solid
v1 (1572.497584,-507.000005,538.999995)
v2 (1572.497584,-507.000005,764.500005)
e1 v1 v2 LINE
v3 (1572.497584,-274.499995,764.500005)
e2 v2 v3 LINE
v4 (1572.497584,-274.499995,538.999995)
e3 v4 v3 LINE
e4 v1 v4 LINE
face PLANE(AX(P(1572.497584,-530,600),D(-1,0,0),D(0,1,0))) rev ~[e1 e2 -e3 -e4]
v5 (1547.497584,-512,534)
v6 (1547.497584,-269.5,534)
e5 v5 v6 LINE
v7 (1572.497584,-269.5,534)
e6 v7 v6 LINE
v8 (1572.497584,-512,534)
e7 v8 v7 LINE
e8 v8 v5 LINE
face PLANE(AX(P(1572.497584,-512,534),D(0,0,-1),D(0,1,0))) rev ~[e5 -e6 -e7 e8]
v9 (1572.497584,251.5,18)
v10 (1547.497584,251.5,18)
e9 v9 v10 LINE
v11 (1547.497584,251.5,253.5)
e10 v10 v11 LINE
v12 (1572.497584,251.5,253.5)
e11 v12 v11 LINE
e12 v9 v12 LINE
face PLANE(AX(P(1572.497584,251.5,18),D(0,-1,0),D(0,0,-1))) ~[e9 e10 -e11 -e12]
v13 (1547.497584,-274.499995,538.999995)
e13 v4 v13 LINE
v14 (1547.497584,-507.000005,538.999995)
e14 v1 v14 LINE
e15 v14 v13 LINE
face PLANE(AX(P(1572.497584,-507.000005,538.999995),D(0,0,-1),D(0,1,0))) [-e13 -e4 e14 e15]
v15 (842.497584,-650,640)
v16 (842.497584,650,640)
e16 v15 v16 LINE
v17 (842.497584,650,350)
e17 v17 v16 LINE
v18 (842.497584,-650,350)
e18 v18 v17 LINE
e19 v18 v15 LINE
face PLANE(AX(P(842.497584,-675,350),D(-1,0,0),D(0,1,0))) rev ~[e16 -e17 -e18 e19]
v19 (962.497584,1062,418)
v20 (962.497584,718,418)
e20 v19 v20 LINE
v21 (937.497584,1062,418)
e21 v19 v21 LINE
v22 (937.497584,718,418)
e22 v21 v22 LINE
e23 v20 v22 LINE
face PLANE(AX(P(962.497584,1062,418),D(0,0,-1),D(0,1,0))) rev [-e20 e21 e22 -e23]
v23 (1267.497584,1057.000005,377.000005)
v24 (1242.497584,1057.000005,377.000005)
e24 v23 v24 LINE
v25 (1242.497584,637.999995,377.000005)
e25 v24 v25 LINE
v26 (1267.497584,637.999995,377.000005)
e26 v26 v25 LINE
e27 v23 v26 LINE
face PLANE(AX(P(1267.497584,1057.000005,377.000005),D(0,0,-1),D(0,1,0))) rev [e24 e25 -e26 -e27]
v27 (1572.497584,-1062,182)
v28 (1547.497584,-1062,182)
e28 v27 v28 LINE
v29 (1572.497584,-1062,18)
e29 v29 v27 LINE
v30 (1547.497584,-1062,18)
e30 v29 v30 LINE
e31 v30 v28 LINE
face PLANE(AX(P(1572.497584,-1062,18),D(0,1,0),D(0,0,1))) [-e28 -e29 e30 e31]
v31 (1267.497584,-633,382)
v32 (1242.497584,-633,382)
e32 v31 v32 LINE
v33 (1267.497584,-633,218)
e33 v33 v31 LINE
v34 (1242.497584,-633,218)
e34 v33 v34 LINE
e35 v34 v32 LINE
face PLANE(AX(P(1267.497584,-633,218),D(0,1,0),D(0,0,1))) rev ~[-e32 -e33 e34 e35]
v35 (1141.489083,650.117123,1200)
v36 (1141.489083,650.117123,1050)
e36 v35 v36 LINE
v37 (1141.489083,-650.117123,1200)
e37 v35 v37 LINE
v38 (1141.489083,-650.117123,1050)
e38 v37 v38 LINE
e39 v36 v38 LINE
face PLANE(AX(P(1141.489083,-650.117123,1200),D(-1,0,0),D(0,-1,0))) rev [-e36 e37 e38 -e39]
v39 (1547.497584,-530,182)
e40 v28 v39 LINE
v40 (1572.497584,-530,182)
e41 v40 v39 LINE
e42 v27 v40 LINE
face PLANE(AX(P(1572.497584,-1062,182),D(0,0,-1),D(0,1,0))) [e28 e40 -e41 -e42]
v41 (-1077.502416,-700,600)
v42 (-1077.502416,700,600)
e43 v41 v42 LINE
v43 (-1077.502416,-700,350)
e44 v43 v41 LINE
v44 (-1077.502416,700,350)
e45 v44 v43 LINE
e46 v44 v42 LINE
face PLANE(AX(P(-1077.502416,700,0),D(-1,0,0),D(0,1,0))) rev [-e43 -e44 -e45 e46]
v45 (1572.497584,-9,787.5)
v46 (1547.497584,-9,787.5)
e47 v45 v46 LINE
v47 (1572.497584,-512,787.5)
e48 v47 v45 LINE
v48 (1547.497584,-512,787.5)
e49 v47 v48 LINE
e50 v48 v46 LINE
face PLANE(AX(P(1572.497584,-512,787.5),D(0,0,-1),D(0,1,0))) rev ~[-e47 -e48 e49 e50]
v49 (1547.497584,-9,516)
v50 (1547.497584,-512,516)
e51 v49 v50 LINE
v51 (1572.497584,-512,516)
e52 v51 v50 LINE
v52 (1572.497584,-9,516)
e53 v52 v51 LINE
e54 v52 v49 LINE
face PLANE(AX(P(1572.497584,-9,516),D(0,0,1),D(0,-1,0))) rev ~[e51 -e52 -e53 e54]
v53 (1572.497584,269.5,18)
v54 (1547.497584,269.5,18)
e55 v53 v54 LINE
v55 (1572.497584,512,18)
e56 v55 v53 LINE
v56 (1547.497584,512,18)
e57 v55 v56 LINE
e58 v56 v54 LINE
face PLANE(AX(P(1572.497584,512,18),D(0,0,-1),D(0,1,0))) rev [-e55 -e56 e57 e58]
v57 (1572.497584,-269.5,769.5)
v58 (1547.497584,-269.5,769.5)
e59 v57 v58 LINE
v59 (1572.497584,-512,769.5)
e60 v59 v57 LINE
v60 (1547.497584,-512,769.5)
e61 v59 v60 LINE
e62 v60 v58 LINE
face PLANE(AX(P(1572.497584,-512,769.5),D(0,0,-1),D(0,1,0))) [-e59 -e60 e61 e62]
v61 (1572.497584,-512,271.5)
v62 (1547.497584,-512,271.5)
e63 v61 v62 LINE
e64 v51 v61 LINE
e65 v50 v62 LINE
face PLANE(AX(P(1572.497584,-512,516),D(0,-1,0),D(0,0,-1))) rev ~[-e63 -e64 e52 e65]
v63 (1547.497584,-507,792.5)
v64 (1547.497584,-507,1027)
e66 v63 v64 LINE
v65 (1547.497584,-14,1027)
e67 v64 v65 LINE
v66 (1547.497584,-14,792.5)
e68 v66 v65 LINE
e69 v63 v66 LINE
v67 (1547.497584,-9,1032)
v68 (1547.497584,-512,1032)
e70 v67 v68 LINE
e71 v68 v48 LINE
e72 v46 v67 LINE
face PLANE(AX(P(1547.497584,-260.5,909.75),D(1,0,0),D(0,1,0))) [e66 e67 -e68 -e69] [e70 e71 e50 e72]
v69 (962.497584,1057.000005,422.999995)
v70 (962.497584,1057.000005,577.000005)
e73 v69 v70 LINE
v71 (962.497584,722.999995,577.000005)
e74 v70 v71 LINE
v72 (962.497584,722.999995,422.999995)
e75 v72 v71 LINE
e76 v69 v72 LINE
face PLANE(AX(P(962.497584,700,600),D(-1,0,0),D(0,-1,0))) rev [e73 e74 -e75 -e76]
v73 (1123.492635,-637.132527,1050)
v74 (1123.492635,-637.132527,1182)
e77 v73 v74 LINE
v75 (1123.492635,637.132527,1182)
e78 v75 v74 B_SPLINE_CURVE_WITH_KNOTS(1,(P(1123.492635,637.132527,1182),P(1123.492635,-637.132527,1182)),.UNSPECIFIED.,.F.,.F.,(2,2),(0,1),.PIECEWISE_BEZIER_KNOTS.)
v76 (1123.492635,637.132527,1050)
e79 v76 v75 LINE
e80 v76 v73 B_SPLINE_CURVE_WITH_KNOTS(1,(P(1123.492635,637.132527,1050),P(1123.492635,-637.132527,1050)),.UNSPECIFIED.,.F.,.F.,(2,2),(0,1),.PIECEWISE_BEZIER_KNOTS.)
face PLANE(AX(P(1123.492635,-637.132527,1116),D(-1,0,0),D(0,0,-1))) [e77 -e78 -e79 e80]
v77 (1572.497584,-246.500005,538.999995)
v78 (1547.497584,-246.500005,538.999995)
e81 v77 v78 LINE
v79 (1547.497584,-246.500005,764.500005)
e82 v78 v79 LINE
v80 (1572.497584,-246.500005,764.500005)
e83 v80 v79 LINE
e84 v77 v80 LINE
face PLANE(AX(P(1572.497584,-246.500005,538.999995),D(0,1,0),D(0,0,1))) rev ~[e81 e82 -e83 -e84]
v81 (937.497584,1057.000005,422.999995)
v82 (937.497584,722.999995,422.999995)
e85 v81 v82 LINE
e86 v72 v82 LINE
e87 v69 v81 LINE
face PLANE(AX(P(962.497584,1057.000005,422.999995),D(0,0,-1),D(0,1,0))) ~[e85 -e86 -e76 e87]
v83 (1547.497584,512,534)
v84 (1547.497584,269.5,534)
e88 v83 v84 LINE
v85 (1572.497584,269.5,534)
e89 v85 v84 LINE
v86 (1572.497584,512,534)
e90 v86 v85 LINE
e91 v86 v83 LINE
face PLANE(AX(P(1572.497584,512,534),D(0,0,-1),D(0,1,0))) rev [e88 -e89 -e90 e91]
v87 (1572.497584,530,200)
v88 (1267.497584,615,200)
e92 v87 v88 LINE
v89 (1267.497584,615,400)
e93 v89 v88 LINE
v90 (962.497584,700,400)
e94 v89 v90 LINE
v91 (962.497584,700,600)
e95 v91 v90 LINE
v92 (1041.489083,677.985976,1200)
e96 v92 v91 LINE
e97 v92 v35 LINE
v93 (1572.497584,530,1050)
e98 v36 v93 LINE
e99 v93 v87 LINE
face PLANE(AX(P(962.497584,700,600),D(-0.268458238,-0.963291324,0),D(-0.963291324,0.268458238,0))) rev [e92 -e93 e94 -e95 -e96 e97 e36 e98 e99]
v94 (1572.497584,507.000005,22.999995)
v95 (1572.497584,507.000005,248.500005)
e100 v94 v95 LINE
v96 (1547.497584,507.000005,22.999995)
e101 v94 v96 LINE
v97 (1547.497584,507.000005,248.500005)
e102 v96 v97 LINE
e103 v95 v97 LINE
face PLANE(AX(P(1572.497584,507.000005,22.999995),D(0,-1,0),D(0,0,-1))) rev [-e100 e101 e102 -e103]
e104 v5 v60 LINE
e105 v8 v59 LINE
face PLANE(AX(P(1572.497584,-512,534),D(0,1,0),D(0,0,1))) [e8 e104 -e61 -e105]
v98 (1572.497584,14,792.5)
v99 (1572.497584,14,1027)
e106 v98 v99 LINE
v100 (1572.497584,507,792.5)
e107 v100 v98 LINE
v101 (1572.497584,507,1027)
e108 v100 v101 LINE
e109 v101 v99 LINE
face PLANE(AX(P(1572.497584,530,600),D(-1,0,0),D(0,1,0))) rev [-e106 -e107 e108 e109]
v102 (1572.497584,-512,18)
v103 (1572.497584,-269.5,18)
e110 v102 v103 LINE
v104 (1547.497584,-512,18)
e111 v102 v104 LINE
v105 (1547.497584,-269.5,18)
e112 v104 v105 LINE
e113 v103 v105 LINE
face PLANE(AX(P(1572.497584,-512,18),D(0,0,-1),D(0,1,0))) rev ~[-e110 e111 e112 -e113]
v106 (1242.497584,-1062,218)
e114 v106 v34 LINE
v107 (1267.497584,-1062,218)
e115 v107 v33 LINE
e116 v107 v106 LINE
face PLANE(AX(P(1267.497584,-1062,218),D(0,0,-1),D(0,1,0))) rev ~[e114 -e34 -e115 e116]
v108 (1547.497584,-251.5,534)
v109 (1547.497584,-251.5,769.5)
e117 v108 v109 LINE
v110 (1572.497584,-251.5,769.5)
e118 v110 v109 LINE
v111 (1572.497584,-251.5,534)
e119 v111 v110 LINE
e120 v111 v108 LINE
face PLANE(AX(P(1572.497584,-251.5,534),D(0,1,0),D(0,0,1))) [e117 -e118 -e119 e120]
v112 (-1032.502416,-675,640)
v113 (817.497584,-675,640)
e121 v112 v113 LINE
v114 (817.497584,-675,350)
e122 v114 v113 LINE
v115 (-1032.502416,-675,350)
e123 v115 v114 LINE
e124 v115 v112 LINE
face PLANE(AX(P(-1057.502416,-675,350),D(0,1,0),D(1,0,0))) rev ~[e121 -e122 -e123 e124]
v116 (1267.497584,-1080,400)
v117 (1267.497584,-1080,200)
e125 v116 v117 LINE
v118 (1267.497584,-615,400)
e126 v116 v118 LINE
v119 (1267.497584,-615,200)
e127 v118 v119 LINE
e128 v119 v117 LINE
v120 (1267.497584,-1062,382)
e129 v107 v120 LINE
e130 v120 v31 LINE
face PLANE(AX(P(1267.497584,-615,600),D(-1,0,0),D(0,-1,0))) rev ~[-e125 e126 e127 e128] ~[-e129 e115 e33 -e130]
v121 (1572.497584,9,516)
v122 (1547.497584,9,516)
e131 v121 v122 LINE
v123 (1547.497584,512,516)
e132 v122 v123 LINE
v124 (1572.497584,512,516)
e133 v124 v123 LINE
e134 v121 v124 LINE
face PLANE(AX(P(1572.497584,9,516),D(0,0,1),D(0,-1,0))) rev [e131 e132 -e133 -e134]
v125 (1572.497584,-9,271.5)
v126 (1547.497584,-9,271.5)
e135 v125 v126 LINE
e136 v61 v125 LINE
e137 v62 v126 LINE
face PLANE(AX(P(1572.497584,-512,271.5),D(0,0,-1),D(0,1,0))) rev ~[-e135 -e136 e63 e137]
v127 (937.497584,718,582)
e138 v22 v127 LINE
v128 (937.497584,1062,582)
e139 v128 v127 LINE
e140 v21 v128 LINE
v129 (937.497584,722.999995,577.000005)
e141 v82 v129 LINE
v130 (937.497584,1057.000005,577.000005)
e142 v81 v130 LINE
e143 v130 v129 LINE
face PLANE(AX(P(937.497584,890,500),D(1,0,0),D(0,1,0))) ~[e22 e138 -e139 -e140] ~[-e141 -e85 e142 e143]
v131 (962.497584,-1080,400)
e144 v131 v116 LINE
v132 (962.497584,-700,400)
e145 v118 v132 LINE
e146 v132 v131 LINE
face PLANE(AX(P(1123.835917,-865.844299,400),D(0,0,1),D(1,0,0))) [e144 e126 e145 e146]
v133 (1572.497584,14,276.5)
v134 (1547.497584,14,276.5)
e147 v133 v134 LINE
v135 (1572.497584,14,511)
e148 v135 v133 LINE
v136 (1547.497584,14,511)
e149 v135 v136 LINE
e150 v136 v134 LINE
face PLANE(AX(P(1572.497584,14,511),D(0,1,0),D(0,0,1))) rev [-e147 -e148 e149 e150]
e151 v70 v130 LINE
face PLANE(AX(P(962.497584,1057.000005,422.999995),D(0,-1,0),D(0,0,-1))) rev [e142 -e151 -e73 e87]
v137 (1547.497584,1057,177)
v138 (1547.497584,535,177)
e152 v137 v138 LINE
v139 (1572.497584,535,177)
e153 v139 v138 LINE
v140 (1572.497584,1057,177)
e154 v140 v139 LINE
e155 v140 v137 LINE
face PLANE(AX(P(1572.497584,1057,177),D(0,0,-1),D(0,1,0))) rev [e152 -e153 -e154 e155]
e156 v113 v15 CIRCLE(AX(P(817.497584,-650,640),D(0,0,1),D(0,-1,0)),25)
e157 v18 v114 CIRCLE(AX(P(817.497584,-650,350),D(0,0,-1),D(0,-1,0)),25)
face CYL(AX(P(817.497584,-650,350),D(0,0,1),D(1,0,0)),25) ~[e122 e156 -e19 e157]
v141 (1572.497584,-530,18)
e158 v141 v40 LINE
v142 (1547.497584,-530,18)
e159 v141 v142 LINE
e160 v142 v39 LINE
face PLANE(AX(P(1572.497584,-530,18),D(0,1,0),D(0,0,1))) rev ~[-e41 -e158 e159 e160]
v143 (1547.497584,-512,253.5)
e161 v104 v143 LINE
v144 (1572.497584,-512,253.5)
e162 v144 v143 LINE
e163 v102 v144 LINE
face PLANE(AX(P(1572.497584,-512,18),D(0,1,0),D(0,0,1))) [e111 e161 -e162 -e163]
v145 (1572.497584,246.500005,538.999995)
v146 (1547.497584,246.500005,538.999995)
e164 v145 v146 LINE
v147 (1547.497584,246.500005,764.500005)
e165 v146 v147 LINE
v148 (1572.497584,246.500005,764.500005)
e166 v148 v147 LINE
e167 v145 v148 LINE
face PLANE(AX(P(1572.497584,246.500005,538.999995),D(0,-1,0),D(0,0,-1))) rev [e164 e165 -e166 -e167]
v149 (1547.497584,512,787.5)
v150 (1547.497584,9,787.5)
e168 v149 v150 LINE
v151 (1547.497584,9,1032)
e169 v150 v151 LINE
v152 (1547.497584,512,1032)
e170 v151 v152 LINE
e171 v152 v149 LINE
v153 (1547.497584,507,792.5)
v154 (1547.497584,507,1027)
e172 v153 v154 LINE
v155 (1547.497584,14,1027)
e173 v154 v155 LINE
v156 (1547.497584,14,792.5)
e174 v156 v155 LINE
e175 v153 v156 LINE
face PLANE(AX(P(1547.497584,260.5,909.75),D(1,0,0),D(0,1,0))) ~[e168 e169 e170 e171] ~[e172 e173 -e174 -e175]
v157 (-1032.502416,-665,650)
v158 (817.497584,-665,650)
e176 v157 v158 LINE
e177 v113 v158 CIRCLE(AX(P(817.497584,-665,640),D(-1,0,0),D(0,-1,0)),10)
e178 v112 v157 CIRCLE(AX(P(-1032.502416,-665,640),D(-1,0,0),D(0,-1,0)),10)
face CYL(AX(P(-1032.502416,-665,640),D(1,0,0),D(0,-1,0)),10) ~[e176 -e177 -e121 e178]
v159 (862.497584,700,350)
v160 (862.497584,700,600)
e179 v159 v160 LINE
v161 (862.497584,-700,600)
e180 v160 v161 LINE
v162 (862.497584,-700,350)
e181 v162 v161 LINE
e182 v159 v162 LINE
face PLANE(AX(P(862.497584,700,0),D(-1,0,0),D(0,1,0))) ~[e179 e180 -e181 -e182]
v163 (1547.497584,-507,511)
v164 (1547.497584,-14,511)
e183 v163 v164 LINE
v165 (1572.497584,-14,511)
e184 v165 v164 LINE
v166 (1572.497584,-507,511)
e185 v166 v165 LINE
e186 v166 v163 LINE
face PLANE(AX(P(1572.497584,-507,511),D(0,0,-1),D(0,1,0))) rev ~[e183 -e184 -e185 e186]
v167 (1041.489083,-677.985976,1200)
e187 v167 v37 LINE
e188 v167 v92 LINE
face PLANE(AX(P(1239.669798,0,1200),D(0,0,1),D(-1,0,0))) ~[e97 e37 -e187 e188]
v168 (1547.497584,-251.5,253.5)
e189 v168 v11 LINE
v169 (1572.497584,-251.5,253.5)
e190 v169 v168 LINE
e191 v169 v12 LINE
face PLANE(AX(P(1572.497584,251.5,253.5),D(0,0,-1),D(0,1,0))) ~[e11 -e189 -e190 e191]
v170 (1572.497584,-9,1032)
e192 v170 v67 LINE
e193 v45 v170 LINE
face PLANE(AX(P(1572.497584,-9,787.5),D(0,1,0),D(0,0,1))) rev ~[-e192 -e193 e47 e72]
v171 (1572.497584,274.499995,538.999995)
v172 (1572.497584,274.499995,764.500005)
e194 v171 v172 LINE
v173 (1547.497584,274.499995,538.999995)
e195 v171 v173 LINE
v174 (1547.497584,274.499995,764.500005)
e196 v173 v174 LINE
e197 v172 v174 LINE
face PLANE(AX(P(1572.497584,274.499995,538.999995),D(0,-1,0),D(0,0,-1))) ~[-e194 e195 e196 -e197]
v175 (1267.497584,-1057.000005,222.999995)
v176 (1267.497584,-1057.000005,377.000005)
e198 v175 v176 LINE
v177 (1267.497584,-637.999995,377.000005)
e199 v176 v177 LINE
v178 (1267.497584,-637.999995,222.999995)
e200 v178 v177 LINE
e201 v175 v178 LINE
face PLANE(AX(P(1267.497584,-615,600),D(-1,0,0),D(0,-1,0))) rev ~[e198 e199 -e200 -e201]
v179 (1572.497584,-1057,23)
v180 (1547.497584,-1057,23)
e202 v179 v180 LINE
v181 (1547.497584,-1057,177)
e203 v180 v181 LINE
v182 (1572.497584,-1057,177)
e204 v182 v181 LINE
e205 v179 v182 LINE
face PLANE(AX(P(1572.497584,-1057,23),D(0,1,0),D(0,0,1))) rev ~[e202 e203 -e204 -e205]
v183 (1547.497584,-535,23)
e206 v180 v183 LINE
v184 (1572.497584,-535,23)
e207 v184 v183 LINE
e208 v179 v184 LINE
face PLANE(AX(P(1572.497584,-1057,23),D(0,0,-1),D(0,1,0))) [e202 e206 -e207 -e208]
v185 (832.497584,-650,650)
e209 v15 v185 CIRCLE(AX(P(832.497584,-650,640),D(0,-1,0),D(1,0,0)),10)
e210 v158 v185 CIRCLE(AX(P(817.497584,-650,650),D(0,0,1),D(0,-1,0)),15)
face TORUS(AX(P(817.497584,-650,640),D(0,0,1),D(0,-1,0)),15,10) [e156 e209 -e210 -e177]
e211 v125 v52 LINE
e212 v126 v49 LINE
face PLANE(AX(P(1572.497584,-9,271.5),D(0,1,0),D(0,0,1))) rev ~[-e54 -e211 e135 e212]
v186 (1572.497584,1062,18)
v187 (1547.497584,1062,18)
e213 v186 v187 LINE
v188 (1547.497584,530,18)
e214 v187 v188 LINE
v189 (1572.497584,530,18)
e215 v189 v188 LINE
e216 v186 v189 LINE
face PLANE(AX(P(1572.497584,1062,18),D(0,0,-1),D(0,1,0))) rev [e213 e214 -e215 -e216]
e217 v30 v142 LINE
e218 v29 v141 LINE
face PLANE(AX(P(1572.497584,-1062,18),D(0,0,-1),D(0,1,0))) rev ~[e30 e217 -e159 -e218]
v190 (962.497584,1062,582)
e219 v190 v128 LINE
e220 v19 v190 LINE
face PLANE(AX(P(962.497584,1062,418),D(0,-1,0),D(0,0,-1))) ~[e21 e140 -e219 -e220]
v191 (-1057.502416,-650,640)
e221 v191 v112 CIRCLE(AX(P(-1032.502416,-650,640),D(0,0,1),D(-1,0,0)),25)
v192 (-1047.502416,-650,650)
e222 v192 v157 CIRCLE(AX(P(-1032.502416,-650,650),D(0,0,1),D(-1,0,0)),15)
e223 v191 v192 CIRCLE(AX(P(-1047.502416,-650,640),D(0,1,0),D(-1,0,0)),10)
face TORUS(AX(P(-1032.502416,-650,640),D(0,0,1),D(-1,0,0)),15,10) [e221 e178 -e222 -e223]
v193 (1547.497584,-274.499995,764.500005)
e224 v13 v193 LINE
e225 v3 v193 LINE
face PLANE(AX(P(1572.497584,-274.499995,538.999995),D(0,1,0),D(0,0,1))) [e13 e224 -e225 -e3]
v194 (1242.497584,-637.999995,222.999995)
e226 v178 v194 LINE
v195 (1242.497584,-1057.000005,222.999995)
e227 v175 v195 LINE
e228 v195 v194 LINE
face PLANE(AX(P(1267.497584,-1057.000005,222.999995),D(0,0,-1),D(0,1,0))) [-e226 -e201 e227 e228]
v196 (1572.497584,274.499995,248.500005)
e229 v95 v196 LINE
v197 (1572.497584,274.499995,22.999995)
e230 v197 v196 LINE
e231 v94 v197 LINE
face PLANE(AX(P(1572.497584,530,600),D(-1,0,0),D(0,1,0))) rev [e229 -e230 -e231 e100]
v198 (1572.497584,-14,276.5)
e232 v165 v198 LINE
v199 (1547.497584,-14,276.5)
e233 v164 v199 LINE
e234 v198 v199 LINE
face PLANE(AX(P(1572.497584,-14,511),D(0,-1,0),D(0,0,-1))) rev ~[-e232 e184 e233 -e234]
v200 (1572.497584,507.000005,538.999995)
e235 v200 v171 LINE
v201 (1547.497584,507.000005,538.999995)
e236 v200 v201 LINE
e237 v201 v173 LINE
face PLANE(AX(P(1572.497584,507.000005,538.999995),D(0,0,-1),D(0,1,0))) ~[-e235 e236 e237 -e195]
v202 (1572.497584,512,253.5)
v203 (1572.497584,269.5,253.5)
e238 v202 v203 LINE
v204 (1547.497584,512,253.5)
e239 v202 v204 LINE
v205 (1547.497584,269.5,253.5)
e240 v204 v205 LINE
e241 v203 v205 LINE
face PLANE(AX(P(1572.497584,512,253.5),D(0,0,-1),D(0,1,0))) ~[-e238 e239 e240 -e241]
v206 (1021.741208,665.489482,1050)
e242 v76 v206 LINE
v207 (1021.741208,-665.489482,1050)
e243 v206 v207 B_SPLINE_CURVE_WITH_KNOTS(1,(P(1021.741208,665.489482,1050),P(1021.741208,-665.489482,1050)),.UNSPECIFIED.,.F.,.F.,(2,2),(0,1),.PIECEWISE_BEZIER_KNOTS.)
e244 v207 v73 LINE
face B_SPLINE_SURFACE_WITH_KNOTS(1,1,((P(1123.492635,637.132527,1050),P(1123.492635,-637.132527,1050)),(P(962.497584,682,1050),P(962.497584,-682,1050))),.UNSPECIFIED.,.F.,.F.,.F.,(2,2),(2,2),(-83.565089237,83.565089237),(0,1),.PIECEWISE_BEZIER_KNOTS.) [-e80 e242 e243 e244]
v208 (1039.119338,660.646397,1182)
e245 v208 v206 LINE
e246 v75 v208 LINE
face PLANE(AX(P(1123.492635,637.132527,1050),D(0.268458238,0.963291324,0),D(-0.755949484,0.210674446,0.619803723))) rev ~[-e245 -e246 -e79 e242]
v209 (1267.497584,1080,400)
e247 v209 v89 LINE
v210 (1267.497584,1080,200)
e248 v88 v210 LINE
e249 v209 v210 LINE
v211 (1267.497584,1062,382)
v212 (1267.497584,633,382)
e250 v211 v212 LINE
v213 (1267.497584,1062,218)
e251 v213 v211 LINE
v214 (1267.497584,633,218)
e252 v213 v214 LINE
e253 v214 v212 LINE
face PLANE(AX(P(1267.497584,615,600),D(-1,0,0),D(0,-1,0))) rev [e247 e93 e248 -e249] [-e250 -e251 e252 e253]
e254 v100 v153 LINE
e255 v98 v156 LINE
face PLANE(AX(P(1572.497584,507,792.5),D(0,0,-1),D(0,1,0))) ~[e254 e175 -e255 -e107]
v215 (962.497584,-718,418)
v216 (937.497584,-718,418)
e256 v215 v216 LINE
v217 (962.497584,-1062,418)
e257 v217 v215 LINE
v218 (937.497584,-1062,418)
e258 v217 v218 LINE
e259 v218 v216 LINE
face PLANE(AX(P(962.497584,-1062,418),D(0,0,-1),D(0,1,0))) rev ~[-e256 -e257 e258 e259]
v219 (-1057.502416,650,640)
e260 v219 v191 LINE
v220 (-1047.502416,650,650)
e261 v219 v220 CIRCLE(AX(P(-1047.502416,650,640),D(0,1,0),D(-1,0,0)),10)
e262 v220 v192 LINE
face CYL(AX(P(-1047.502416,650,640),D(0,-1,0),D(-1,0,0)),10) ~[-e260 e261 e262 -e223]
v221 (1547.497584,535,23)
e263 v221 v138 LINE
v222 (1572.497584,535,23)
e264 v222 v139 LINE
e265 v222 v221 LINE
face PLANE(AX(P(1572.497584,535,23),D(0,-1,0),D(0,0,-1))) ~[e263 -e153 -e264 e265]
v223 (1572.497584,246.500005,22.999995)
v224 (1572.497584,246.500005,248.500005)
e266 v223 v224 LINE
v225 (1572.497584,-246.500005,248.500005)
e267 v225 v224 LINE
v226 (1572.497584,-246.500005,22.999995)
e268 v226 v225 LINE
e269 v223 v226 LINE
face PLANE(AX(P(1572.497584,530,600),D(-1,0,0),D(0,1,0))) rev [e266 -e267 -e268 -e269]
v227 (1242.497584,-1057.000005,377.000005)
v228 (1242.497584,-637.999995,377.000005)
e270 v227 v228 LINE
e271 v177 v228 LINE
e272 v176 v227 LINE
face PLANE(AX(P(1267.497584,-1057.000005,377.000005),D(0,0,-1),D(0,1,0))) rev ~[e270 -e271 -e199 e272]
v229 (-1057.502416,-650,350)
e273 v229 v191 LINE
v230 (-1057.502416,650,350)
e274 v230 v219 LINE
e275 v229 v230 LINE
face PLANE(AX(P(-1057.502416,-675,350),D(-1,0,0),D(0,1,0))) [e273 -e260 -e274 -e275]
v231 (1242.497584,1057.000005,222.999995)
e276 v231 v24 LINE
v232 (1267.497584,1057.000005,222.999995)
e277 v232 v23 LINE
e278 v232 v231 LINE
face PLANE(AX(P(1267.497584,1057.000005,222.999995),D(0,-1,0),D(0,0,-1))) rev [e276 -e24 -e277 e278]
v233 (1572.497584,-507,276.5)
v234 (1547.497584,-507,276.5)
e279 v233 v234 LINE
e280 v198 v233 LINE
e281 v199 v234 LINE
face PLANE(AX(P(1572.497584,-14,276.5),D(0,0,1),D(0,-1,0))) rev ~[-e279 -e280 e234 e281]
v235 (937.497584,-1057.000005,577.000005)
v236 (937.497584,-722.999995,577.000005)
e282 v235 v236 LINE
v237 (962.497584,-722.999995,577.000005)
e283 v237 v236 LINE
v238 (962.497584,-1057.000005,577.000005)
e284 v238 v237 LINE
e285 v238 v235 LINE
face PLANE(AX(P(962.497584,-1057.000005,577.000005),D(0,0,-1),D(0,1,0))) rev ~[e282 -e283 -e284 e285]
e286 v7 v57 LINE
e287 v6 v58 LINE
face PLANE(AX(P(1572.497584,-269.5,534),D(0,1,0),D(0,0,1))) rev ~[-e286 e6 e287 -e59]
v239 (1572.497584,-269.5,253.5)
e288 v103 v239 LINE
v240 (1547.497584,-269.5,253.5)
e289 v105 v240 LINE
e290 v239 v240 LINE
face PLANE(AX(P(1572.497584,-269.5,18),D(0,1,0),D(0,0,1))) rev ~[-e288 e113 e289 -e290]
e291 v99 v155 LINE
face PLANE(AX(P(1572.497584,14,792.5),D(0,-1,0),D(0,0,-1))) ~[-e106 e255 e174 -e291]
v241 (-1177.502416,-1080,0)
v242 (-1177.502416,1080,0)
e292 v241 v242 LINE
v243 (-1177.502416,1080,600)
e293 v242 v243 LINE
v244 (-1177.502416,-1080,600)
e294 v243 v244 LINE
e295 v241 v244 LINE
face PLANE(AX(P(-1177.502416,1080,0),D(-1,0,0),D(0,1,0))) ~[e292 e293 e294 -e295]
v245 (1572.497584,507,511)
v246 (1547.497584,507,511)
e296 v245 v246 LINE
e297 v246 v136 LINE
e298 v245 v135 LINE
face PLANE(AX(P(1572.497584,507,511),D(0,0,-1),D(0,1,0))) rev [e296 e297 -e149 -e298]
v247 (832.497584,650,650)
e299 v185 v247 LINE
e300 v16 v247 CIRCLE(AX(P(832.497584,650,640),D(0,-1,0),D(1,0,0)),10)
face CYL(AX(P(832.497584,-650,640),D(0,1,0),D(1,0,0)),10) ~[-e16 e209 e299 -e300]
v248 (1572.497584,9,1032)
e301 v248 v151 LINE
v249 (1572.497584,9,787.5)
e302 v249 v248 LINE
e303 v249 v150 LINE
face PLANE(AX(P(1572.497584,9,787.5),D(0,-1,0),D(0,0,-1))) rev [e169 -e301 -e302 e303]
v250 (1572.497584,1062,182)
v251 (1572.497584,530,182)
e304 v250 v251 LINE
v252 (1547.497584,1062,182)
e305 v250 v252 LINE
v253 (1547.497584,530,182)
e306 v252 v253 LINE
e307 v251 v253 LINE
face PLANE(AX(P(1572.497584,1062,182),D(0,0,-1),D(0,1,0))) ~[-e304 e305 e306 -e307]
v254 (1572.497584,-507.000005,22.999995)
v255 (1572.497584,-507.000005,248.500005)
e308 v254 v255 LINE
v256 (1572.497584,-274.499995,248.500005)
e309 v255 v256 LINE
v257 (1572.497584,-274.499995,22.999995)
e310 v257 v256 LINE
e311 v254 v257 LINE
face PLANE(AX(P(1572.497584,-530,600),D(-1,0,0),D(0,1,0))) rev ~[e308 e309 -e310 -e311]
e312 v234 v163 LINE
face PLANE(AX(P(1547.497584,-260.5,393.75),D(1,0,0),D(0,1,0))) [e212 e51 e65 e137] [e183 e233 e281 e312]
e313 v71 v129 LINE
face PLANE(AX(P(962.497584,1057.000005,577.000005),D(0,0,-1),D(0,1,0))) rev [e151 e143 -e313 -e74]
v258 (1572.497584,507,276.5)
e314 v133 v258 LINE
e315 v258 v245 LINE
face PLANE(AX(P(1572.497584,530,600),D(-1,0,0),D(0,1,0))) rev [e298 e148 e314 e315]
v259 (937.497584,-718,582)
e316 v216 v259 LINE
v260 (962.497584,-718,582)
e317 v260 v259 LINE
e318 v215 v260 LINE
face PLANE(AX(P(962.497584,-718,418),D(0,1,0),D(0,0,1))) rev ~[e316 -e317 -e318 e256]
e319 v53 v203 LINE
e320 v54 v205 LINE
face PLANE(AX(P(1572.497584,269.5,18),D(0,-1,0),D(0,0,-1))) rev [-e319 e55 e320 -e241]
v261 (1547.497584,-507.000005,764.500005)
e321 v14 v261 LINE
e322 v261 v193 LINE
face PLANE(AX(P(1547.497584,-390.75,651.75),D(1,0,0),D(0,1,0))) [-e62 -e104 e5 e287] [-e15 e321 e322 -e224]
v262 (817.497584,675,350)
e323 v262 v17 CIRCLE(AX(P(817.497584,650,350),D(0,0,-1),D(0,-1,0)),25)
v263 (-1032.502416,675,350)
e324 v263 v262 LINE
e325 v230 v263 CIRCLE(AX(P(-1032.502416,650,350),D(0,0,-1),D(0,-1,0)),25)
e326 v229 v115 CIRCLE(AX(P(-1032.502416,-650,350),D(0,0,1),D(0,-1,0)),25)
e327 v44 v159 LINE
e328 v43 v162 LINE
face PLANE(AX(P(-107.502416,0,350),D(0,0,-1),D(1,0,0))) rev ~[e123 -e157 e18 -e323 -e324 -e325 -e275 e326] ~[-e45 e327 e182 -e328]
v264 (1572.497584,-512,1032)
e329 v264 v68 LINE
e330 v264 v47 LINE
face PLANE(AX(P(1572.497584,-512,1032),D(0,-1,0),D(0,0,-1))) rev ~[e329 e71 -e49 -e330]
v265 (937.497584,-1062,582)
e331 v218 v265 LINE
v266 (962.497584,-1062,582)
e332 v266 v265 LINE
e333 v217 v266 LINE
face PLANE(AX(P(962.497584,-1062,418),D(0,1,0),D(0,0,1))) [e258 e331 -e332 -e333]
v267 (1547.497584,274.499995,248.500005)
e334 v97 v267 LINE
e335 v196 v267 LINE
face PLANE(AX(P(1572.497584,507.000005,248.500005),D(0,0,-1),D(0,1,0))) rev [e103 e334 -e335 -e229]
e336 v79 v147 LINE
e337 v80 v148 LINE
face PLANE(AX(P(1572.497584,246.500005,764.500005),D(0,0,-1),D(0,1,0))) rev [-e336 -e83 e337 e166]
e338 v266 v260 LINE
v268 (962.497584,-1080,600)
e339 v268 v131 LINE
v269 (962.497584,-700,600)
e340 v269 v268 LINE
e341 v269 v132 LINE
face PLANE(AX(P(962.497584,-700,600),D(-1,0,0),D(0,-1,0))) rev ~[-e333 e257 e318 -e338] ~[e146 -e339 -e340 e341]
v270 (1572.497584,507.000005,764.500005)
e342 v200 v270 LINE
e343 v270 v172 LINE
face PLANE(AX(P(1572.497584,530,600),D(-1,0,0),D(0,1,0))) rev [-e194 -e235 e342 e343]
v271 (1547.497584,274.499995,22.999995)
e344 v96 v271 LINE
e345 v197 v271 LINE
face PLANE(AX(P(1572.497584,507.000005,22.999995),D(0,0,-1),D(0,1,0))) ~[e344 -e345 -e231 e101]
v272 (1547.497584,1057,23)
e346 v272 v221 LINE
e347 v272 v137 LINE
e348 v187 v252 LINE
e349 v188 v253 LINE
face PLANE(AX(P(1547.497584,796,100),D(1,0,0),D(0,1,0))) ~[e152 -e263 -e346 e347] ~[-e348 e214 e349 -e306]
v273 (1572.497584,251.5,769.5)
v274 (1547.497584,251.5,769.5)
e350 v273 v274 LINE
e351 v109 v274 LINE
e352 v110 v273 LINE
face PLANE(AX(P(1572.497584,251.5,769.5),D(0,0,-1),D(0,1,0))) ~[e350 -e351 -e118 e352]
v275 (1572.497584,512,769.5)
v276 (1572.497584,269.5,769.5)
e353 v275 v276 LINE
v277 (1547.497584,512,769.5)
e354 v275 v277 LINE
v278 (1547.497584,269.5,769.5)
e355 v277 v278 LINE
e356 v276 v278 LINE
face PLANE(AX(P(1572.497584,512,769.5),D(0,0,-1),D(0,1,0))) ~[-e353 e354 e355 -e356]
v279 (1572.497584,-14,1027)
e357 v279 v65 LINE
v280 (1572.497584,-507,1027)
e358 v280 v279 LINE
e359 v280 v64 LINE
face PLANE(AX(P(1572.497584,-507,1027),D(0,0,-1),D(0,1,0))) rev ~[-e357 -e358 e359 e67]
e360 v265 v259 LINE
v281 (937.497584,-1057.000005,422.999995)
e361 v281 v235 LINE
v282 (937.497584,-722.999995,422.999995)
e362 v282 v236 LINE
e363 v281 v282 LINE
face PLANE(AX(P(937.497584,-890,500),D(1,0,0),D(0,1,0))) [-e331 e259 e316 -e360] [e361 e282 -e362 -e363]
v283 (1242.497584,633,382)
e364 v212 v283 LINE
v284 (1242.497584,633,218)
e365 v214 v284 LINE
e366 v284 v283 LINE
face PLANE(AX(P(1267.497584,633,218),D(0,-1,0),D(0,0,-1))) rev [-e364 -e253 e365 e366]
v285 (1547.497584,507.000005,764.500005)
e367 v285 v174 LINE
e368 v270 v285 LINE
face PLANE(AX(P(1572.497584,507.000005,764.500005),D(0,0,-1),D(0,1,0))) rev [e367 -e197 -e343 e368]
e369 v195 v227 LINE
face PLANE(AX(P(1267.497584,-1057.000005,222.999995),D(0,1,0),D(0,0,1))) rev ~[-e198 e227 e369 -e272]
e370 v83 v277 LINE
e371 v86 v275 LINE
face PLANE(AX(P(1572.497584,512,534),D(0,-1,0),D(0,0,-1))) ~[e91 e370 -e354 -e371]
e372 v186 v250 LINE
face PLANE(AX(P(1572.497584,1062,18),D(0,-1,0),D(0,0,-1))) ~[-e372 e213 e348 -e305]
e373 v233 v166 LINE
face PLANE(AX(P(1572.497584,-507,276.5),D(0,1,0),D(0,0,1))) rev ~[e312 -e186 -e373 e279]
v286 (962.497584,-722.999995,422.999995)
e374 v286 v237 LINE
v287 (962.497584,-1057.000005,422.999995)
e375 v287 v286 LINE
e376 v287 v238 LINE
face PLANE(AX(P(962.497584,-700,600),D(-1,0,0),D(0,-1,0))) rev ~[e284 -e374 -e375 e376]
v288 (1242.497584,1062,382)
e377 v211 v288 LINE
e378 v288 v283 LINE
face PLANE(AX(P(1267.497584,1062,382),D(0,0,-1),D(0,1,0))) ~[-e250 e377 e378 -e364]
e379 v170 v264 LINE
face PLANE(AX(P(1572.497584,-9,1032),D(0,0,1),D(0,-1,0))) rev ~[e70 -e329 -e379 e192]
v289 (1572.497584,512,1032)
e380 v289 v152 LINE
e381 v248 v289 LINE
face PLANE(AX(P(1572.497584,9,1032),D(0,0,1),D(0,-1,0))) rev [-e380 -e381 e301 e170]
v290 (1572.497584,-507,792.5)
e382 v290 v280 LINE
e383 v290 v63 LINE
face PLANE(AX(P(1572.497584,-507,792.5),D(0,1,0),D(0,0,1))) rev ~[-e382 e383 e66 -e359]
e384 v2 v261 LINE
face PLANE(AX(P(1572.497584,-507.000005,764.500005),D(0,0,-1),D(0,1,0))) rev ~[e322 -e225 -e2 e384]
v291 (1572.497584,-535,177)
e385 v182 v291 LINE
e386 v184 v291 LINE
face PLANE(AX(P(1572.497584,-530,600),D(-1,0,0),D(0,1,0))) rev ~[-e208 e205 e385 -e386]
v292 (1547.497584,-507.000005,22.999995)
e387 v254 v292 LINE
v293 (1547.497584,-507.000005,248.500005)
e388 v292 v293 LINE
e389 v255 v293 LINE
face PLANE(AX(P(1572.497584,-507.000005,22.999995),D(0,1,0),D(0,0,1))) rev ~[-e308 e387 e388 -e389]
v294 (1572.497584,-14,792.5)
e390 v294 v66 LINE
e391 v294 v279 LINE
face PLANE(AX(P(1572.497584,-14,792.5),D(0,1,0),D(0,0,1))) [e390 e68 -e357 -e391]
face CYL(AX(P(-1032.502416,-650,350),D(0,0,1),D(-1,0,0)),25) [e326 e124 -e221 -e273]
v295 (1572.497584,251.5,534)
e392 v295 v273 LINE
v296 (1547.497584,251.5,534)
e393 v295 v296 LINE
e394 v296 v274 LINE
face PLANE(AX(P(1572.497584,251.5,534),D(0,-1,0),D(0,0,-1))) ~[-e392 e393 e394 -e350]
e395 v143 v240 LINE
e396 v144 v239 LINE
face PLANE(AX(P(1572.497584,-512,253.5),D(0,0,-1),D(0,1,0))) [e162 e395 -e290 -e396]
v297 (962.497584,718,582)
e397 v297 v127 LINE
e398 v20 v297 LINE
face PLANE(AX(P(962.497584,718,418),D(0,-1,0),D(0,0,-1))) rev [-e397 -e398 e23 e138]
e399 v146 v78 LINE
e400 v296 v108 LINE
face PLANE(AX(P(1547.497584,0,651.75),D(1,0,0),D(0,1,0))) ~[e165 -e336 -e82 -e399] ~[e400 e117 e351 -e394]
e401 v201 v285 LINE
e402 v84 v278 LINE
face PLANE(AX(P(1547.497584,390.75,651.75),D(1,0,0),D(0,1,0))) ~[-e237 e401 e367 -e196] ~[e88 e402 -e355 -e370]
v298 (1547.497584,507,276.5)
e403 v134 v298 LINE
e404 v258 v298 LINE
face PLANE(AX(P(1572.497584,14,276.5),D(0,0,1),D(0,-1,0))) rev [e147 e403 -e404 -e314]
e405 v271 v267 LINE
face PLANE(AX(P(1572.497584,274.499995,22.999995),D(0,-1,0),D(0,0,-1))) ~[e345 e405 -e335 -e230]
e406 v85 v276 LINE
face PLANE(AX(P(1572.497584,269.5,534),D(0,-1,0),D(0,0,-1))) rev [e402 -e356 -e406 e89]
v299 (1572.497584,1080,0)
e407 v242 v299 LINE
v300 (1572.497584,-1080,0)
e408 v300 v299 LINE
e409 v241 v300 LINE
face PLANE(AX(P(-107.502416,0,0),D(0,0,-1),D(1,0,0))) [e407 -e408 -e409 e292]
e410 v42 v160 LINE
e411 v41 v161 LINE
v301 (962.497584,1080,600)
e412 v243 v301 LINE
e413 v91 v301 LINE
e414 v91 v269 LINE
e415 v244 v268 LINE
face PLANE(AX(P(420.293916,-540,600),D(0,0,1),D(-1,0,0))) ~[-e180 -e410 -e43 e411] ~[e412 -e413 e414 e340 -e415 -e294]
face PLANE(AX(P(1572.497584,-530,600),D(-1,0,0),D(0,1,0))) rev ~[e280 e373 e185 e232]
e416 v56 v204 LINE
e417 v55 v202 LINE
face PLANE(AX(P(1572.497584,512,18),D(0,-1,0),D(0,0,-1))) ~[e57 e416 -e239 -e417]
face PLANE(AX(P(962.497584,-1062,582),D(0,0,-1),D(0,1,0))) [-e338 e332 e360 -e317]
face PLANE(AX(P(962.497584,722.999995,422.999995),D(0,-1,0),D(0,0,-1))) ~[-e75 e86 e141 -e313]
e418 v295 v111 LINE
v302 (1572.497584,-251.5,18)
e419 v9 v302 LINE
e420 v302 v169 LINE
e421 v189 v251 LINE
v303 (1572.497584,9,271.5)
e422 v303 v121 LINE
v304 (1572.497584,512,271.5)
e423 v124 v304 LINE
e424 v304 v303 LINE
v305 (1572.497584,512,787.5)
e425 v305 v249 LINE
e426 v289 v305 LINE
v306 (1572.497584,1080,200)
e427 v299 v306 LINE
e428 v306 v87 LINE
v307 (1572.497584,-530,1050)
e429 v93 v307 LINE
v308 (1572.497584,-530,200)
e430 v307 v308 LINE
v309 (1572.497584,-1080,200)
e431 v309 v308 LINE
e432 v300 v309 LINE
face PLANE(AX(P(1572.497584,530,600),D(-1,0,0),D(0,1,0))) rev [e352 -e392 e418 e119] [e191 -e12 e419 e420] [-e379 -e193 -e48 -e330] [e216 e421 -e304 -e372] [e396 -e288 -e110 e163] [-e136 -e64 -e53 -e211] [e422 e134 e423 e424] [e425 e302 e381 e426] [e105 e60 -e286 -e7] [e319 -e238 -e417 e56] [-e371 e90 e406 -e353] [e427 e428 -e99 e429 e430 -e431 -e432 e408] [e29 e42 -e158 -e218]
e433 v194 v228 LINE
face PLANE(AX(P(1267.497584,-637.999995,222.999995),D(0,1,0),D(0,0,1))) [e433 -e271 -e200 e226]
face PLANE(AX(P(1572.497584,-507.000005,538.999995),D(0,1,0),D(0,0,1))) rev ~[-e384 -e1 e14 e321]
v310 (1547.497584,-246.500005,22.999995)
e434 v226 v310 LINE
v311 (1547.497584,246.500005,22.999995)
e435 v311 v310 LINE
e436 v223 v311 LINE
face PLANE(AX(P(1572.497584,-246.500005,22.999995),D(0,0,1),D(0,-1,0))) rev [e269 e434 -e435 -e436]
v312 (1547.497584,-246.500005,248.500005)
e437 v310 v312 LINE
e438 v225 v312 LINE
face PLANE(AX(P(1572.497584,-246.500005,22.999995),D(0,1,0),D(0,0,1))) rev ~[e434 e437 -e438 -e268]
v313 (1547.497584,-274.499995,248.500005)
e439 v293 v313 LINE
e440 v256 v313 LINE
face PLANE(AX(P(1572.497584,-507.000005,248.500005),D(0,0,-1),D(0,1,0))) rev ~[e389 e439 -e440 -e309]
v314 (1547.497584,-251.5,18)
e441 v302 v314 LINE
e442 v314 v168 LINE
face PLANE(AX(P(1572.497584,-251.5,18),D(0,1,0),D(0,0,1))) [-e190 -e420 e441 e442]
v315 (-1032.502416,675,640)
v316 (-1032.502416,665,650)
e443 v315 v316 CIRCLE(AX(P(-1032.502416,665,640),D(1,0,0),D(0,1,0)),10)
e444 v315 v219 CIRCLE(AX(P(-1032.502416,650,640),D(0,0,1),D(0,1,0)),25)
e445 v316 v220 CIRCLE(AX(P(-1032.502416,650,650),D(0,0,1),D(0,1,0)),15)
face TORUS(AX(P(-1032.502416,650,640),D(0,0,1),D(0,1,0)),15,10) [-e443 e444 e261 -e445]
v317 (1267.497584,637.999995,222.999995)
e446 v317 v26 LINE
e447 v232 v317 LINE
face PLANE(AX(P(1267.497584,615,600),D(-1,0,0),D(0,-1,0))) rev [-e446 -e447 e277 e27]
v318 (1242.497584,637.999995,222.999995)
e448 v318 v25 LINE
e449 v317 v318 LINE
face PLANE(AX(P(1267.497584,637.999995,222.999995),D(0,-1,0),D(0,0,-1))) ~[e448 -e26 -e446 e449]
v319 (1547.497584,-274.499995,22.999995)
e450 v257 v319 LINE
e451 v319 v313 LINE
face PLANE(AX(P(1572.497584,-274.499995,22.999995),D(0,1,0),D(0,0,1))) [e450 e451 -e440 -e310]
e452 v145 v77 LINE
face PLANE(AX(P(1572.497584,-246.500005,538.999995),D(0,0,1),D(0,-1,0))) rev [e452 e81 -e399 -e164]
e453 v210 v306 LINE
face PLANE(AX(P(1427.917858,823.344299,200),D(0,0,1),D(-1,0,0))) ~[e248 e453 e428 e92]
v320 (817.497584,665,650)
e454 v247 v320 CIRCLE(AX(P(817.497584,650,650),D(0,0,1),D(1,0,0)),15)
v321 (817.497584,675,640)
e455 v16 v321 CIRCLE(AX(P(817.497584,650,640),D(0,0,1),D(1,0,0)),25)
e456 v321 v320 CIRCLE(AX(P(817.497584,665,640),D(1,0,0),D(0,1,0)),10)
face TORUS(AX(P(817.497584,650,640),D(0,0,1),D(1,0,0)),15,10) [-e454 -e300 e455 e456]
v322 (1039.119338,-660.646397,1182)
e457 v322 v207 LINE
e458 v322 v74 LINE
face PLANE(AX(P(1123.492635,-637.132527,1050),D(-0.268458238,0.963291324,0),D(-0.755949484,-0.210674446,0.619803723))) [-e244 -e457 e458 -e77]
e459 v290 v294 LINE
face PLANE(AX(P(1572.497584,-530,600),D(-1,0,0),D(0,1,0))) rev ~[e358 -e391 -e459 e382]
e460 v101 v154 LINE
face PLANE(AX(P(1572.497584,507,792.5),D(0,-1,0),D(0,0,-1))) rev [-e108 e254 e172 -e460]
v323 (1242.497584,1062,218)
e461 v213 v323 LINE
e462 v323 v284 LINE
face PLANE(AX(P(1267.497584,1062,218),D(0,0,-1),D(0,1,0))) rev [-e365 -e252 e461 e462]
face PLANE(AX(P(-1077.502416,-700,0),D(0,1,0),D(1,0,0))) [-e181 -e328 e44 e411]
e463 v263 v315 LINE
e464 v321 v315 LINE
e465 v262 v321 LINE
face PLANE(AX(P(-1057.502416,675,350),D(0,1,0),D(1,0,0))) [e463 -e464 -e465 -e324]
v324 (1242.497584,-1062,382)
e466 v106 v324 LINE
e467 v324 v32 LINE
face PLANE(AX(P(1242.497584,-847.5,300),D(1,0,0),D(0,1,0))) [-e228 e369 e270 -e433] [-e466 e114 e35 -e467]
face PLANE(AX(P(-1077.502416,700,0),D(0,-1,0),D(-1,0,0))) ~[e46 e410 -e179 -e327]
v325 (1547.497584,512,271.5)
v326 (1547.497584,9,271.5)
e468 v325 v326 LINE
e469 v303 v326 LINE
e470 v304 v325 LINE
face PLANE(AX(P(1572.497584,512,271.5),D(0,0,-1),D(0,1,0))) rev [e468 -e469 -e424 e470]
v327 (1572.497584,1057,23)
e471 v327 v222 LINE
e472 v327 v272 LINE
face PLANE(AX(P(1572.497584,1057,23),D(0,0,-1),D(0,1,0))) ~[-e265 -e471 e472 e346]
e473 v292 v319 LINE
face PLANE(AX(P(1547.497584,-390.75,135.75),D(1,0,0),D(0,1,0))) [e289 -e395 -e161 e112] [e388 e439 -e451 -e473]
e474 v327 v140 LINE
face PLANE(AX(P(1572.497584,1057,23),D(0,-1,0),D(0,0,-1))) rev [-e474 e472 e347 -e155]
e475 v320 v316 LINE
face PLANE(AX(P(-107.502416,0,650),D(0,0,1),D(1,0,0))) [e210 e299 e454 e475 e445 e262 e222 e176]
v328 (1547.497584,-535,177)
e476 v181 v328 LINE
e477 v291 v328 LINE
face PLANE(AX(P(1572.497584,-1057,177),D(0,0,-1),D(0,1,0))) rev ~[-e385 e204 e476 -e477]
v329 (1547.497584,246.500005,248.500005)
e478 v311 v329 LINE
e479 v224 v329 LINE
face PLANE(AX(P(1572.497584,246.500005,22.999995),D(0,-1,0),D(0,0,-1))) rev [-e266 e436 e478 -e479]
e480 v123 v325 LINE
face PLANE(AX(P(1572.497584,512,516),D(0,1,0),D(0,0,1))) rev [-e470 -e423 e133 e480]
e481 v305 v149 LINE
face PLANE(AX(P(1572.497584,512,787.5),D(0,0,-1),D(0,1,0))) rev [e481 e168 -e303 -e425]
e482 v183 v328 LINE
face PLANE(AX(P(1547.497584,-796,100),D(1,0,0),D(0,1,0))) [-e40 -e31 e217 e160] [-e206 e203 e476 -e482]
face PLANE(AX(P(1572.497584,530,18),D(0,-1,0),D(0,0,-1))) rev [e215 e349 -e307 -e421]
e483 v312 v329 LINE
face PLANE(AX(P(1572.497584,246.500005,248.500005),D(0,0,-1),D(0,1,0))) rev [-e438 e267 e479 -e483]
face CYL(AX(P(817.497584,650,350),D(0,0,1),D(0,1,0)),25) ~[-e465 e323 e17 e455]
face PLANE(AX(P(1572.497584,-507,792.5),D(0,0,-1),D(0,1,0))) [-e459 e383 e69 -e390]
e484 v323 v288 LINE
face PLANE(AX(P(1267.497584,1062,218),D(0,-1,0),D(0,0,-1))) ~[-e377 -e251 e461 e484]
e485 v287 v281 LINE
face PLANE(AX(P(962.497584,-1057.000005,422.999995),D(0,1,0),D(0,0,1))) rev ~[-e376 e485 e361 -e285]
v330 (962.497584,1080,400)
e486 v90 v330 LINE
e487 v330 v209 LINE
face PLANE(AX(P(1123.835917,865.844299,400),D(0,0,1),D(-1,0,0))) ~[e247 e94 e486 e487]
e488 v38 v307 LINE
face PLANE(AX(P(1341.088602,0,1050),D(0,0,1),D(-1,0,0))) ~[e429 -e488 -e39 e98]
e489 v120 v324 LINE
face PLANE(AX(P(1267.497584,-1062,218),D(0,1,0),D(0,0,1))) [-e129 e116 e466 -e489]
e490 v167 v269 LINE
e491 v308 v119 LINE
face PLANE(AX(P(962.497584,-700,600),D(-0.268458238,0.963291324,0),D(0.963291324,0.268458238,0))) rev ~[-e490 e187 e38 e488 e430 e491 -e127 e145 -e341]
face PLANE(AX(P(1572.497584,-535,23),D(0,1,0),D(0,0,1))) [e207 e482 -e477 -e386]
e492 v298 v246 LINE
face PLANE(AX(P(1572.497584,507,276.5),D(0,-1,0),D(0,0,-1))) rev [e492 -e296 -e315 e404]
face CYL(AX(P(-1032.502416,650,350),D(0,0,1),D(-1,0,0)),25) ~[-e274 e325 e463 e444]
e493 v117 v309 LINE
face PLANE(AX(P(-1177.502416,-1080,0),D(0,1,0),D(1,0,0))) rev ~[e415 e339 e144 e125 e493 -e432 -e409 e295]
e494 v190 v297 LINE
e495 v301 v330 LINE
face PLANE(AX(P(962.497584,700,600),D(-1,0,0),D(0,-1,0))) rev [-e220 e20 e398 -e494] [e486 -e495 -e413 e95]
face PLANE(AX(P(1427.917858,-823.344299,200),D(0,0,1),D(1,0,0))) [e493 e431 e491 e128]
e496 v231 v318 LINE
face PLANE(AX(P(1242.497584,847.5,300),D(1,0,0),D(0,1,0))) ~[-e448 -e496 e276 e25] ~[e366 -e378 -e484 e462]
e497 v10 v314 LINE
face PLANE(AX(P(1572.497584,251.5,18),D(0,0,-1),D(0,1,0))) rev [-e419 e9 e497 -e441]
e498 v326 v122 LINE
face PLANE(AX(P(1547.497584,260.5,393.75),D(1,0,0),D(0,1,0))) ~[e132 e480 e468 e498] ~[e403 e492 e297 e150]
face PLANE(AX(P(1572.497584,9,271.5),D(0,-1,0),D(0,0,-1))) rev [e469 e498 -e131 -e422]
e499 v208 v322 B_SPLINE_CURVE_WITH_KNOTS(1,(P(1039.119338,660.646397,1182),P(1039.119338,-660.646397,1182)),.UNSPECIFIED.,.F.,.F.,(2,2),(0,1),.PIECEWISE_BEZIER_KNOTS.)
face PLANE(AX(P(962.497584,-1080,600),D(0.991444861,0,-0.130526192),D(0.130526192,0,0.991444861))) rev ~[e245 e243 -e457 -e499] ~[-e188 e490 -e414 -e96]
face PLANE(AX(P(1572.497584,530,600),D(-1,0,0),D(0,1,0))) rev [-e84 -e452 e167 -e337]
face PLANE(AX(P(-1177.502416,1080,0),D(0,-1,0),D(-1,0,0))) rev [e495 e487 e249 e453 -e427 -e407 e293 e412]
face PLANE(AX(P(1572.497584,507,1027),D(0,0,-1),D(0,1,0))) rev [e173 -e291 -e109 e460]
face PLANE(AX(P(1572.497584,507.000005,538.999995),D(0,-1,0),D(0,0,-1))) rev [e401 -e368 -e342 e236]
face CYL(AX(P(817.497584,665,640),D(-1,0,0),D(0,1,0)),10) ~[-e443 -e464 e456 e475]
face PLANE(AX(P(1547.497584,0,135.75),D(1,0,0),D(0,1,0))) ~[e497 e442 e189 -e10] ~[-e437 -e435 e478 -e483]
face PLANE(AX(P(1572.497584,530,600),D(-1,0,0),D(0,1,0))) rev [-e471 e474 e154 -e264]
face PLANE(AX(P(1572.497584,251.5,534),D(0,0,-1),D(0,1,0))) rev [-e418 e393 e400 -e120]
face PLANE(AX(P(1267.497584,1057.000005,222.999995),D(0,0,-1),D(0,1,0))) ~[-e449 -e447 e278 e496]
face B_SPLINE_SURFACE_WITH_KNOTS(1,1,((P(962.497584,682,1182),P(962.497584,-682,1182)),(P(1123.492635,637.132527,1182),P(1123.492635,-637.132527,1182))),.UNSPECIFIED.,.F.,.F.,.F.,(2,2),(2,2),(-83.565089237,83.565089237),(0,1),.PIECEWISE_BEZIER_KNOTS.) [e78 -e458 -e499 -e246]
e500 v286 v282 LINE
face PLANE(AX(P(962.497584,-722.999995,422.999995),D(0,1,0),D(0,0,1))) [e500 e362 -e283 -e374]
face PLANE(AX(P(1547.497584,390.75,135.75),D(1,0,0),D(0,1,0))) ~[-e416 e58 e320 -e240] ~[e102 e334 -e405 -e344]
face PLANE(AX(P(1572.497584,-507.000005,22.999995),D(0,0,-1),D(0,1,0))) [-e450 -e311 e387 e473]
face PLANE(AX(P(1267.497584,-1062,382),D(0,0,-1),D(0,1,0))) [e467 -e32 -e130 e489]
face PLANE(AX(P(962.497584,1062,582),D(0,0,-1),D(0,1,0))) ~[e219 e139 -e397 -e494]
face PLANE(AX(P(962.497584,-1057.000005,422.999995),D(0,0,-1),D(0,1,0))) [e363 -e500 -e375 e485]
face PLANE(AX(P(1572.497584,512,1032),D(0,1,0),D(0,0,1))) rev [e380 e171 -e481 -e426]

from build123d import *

# Parameters (mm, degrees)
F0_W           = 2750
F0_H           = 2160
F0_W_2         = 1940
F0_H_2         = 1400
F1_DEPTH       = 600
F3_DEPTH       = 200
F4_DEPTH       = 400
F6_DEPTH       = 600
F8_DEPTH       = 150
F9_W           = 532
F9_H           = 164
F9_W_2         = 522
F9_H_2         = 154
F10_DEPTH      = 25
F11_W          = 429
F11_H          = 164
F11_W_2        = 419.0000095367
F11_H_2        = 154.0000095367
F12_DEPTH      = 25
F13_W          = 344
F13_H          = 164
F13_W_2        = 334.0000095367
F13_H_2        = 154.0000095367
F14_DEPTH      = 25
F15_W          = 493
F15_H          = 234.5
F15_W_2        = 503
F15_H_2        = 244.5
F15_W_3        = 242.5
F15_H_3        = 235.5
F15_W_4        = 232.5000095367
F15_H_4        = 225.5000095367
F16_DEPTH      = 25
F17_W          = 3195.5926638842
F17_H          = 1080
F18_DEPTH      = 600.001
F18_DEPTH_BACK = 600.001
F20_W          = 1940
F20_H          = 1400
F21_DEPTH      = 350
F22_W          = 1900
F22_H          = 1350
F23_DEPTH      = 300
F24_R          = 25
F29_W          = 167.1301784746
F29_H          = 132
F27_W          = 167.1301784746
F27_H          = 132
F32_DEPTH      = 2160.001
F33_R          = 10


with BuildPart() as f1:
    # F0 (on Top) → F1 (new body)
    with BuildSketch(Plane.XY):
        with Locations((197.4975842237, 0)):
            Rectangle(F0_W, F0_H)
        with Locations((-107.5024157763, 0)):
            Rectangle(F0_W_2, F0_H_2, mode=Mode.SUBTRACT)
    extrude(amount=F1_DEPTH)

    # F2 (on face) → F3 (cut)
    with BuildSketch(Plane.XY.offset(600)):
        Polygon((1267.4975842237, 1080), (962.4975842237, 1080), (962.4975842237, 700), (1267.4975842237, 615), align=None)
        Polygon((1267.4975842237, -615), (962.4975842237, -700), (962.4975842237, -1080), (1267.4975842237, -1080), align=None)
    extrude(amount=-F3_DEPTH, mode=Mode.SUBTRACT)

    # F2 (on face) → F4 (cut)
    with BuildSketch(Plane.XY.offset(600)):
        Polygon((1572.4975842237, -530), (1267.4975842237, -615), (1267.4975842237, -1080), (1572.4975842237, -1080), align=None)
        Polygon((1572.4975842237, 1080), (1267.4975842237, 1080), (1267.4975842237, 615), (1572.4975842237, 530), align=None)
    extrude(amount=-F4_DEPTH, mode=Mode.SUBTRACT)

    # F5 (on face) → F6 (join)
    with BuildSketch(Plane.XY.offset(600)):
        Polygon((1572.4975842237, -530), (1572.4975842237, 530), (962.4975842237, 700), (962.4975842237, -700), align=None)
    extrude(amount=F6_DEPTH)

    # F7 (on face) → F8 (cut)
    with BuildSketch(Plane.XY.offset(1200)):
        Polygon((1572.4975842237, 530), (1141.4890827762, 650.1171233542), (1141.4890827762, -650.1171233542), (1572.4975842237, -530), align=None)
    extrude(amount=-F8_DEPTH, mode=Mode.SUBTRACT)

    # F9 (on face) → F10 (cut)
    with BuildSketch(Plane.YZ.offset(1572.4975842237)):
        with Locations((-796, 100)):
            Rectangle(F9_W, F9_H)
        with Locations((-796, 100)):
            Rectangle(F9_W_2, F9_H_2, mode=Mode.SUBTRACT)
    extrude(amount=-F10_DEPTH, mode=Mode.SUBTRACT)

    # F11 (on face) → F12 (cut)
    with BuildSketch(Plane.YZ.offset(1267.4975842237)):
        with Locations((-847.5, 300)):
            Rectangle(F11_W, F11_H)
        with Locations((-847.5, 300)):
            Rectangle(F11_W_2, F11_H_2, mode=Mode.SUBTRACT)
    extrude(amount=-F12_DEPTH, mode=Mode.SUBTRACT)

    # F13 (on face) → F14 (cut)
    with BuildSketch(Plane.YZ.offset(962.4975842237)):
        with Locations((-890, 500)):
            Rectangle(F13_W, F13_H)
        with Locations((-890, 500)):
            Rectangle(F13_W_2, F13_H_2, mode=Mode.SUBTRACT)
    extrude(amount=-F14_DEPTH, mode=Mode.SUBTRACT)

    # F15 (on face) → F16 (cut)
    with BuildSketch(Plane.YZ.offset(1572.4975842237)):
        Polygon((-9, 787.5), (-9, 1032), (-512, 1032), (-512, 787.5), (-260.5, 787.5), align=None)
        with Locations((-260.5, 909.75)):
            Rectangle(F15_W, F15_H, mode=Mode.SUBTRACT)
        with Locations((260.5, 909.75)):
            Rectangle(F15_W_2, F15_H_2)
        with Locations((260.5, 909.75)):
            Rectangle(F15_W, F15_H, mode=Mode.SUBTRACT)
        with Locations((-390.75, 651.75)):
            Rectangle(F15_W_3, F15_H_3)
        with Locations((-390.75, 651.75)):
            Rectangle(F15_W_4, F15_H_4, mode=Mode.SUBTRACT)
        with Locations((0, 651.75)):
            Rectangle(F15_W_2, F15_H_3)
        Polygon((246.5000047684, 538.9999952316), (-246.5000047684, 538.9999952316), (-246.5000047684, 651.75), (-246.5000047684, 764.5000047684), (246.5000047684, 764.5000047684), (246.5000047684, 651.75), align=None, mode=Mode.SUBTRACT)
        with Locations((390.75, 651.75)):
            Rectangle(F15_W_3, F15_H_3)
        with Locations((390.75, 651.75)):
            Rectangle(F15_W_4, F15_H_4, mode=Mode.SUBTRACT)
        Polygon((512, 271.5), (512, 516), (9, 516), (9, 393.75), (9, 271.5), align=None)
        Polygon((14, 276.5), (14, 393.75), (14, 511), (507, 511), (507, 276.5), align=None, mode=Mode.SUBTRACT)
        Polygon((-9, 516), (-512, 516), (-512, 271.5), (-9, 271.5), (-9, 393.75), align=None)
        Polygon((-14, 511), (-14, 393.75), (-14, 276.5), (-507, 276.5), (-507, 511), align=None, mode=Mode.SUBTRACT)
        with Locations((390.75, 135.75)):
            Rectangle(F15_W_3, F15_H_3)
        with Locations((390.75, 135.75)):
            Rectangle(F15_W_4, F15_H_4, mode=Mode.SUBTRACT)
        with Locations((0, 135.75)):
            Rectangle(F15_W_2, F15_H_3)
        Polygon((-246.5000047684, 135.75), (-246.5000047684, 248.5000047684), (246.5000047684, 248.5000047684), (246.5000047684, 135.75), (246.5000047684, 22.9999952316), (-246.5000047684, 22.9999952316), align=None, mode=Mode.SUBTRACT)
        with Locations((-390.75, 135.75)):
            Rectangle(F15_W_3, F15_H_3)
        with Locations((-390.75, 135.75)):
            Rectangle(F15_W_4, F15_H_4, mode=Mode.SUBTRACT)
    extrude(amount=-F16_DEPTH, mode=Mode.SUBTRACT)

    # F17 (on face) → F18 (cut, two sides)
    with BuildSketch(Plane.XY.offset(600)) as f18_sk:
        with Locations((420.2939161658, 540)):
            Rectangle(F17_W, F17_H)
    extrude(amount=F18_DEPTH, mode=Mode.SUBTRACT)
    extrude(f18_sk.sketch, amount=-F18_DEPTH_BACK, mode=Mode.SUBTRACT)

    # F19: F1 across face


with BuildPart() as f1_1:
    add(f1.part)
    add(f1.part.mirror(Plane(origin=(1230.0313780775, 0, 528.6800777303), x_dir=(-1, 0, 0), z_dir=(0, 1, 0))))

    # F20 (on face) → F21 (join)
    with BuildSketch(Plane(origin=(0, 0, 0), x_dir=(1, 0, 0), z_dir=(0, 0, -1))):
        with Locations((-107.5024157763, 0)):
            Rectangle(F20_W, F20_H)
    extrude(amount=-F21_DEPTH)

    # F22 (on face) → F23 (join)
    with BuildSketch(Plane.XY.offset(350)):
        with Locations((-107.5024157763, 0)):
            Rectangle(F22_W, F22_H)
    extrude(amount=F23_DEPTH)

    # F24
    f24_edges = [f1_1.edges().sort_by_distance(p)[0] for p in [
        (-1057.502416, 675, 500),
        (-1057.502416, -675, 500),
        (842.497584, 675, 500),
        (842.497584, -675, 500),
    ]]
    fillet(f24_edges, radius=F24_R)

    # F29 (on plane+point) → F30 section 0
    with BuildSketch(Plane(origin=(245.7346139254, 881.7536146733, 0), x_dir=(-0.9632913238, 0.2684582378, 0), z_dir=(0.2684582378, 0.9632913238, 0))):
        with Locations((-827.6421431545, 1116)):
            Rectangle(F29_W, F29_H)
    # F27 (on plane+point) → F30 section 1
    with BuildSketch(Plane(origin=(245.7346139254, -881.7536146733, 0), x_dir=(0.9632913238, 0.2684582378, 0), z_dir=(0.2684582378, -0.9632913238, 0))):
        with Locations((827.6421431545, 1116)):
            Rectangle(F27_W, F27_H)
    loft(mode=Mode.SUBTRACT)

    # F31 (on face) → F32 (cut, through all)
    with BuildSketch(Plane.XZ.offset(1080)):
        Polygon((962.4975842237, 600), (1041.4890827762, 1200), (962.4975842237, 1200), align=None)
    extrude(amount=-F32_DEPTH, mode=Mode.SUBTRACT)

    # F33
    f33_edges = [f1_1.edges().sort_by_distance(p)[0] for p in [
        (-107.502416, -675, 650),
        (-1050.180085, -667.67767, 650),
        (835.175254, -667.67767, 650),
        (-1057.502416, 0, 650),
        (842.497584, 0, 650),
        (-1050.180085, 667.67767, 650),
        (835.175254, 667.67767, 650),
        (-107.502416, 675, 650),
    ]]
    fillet(f33_edges, radius=F33_R)


solid = f1_1.part
